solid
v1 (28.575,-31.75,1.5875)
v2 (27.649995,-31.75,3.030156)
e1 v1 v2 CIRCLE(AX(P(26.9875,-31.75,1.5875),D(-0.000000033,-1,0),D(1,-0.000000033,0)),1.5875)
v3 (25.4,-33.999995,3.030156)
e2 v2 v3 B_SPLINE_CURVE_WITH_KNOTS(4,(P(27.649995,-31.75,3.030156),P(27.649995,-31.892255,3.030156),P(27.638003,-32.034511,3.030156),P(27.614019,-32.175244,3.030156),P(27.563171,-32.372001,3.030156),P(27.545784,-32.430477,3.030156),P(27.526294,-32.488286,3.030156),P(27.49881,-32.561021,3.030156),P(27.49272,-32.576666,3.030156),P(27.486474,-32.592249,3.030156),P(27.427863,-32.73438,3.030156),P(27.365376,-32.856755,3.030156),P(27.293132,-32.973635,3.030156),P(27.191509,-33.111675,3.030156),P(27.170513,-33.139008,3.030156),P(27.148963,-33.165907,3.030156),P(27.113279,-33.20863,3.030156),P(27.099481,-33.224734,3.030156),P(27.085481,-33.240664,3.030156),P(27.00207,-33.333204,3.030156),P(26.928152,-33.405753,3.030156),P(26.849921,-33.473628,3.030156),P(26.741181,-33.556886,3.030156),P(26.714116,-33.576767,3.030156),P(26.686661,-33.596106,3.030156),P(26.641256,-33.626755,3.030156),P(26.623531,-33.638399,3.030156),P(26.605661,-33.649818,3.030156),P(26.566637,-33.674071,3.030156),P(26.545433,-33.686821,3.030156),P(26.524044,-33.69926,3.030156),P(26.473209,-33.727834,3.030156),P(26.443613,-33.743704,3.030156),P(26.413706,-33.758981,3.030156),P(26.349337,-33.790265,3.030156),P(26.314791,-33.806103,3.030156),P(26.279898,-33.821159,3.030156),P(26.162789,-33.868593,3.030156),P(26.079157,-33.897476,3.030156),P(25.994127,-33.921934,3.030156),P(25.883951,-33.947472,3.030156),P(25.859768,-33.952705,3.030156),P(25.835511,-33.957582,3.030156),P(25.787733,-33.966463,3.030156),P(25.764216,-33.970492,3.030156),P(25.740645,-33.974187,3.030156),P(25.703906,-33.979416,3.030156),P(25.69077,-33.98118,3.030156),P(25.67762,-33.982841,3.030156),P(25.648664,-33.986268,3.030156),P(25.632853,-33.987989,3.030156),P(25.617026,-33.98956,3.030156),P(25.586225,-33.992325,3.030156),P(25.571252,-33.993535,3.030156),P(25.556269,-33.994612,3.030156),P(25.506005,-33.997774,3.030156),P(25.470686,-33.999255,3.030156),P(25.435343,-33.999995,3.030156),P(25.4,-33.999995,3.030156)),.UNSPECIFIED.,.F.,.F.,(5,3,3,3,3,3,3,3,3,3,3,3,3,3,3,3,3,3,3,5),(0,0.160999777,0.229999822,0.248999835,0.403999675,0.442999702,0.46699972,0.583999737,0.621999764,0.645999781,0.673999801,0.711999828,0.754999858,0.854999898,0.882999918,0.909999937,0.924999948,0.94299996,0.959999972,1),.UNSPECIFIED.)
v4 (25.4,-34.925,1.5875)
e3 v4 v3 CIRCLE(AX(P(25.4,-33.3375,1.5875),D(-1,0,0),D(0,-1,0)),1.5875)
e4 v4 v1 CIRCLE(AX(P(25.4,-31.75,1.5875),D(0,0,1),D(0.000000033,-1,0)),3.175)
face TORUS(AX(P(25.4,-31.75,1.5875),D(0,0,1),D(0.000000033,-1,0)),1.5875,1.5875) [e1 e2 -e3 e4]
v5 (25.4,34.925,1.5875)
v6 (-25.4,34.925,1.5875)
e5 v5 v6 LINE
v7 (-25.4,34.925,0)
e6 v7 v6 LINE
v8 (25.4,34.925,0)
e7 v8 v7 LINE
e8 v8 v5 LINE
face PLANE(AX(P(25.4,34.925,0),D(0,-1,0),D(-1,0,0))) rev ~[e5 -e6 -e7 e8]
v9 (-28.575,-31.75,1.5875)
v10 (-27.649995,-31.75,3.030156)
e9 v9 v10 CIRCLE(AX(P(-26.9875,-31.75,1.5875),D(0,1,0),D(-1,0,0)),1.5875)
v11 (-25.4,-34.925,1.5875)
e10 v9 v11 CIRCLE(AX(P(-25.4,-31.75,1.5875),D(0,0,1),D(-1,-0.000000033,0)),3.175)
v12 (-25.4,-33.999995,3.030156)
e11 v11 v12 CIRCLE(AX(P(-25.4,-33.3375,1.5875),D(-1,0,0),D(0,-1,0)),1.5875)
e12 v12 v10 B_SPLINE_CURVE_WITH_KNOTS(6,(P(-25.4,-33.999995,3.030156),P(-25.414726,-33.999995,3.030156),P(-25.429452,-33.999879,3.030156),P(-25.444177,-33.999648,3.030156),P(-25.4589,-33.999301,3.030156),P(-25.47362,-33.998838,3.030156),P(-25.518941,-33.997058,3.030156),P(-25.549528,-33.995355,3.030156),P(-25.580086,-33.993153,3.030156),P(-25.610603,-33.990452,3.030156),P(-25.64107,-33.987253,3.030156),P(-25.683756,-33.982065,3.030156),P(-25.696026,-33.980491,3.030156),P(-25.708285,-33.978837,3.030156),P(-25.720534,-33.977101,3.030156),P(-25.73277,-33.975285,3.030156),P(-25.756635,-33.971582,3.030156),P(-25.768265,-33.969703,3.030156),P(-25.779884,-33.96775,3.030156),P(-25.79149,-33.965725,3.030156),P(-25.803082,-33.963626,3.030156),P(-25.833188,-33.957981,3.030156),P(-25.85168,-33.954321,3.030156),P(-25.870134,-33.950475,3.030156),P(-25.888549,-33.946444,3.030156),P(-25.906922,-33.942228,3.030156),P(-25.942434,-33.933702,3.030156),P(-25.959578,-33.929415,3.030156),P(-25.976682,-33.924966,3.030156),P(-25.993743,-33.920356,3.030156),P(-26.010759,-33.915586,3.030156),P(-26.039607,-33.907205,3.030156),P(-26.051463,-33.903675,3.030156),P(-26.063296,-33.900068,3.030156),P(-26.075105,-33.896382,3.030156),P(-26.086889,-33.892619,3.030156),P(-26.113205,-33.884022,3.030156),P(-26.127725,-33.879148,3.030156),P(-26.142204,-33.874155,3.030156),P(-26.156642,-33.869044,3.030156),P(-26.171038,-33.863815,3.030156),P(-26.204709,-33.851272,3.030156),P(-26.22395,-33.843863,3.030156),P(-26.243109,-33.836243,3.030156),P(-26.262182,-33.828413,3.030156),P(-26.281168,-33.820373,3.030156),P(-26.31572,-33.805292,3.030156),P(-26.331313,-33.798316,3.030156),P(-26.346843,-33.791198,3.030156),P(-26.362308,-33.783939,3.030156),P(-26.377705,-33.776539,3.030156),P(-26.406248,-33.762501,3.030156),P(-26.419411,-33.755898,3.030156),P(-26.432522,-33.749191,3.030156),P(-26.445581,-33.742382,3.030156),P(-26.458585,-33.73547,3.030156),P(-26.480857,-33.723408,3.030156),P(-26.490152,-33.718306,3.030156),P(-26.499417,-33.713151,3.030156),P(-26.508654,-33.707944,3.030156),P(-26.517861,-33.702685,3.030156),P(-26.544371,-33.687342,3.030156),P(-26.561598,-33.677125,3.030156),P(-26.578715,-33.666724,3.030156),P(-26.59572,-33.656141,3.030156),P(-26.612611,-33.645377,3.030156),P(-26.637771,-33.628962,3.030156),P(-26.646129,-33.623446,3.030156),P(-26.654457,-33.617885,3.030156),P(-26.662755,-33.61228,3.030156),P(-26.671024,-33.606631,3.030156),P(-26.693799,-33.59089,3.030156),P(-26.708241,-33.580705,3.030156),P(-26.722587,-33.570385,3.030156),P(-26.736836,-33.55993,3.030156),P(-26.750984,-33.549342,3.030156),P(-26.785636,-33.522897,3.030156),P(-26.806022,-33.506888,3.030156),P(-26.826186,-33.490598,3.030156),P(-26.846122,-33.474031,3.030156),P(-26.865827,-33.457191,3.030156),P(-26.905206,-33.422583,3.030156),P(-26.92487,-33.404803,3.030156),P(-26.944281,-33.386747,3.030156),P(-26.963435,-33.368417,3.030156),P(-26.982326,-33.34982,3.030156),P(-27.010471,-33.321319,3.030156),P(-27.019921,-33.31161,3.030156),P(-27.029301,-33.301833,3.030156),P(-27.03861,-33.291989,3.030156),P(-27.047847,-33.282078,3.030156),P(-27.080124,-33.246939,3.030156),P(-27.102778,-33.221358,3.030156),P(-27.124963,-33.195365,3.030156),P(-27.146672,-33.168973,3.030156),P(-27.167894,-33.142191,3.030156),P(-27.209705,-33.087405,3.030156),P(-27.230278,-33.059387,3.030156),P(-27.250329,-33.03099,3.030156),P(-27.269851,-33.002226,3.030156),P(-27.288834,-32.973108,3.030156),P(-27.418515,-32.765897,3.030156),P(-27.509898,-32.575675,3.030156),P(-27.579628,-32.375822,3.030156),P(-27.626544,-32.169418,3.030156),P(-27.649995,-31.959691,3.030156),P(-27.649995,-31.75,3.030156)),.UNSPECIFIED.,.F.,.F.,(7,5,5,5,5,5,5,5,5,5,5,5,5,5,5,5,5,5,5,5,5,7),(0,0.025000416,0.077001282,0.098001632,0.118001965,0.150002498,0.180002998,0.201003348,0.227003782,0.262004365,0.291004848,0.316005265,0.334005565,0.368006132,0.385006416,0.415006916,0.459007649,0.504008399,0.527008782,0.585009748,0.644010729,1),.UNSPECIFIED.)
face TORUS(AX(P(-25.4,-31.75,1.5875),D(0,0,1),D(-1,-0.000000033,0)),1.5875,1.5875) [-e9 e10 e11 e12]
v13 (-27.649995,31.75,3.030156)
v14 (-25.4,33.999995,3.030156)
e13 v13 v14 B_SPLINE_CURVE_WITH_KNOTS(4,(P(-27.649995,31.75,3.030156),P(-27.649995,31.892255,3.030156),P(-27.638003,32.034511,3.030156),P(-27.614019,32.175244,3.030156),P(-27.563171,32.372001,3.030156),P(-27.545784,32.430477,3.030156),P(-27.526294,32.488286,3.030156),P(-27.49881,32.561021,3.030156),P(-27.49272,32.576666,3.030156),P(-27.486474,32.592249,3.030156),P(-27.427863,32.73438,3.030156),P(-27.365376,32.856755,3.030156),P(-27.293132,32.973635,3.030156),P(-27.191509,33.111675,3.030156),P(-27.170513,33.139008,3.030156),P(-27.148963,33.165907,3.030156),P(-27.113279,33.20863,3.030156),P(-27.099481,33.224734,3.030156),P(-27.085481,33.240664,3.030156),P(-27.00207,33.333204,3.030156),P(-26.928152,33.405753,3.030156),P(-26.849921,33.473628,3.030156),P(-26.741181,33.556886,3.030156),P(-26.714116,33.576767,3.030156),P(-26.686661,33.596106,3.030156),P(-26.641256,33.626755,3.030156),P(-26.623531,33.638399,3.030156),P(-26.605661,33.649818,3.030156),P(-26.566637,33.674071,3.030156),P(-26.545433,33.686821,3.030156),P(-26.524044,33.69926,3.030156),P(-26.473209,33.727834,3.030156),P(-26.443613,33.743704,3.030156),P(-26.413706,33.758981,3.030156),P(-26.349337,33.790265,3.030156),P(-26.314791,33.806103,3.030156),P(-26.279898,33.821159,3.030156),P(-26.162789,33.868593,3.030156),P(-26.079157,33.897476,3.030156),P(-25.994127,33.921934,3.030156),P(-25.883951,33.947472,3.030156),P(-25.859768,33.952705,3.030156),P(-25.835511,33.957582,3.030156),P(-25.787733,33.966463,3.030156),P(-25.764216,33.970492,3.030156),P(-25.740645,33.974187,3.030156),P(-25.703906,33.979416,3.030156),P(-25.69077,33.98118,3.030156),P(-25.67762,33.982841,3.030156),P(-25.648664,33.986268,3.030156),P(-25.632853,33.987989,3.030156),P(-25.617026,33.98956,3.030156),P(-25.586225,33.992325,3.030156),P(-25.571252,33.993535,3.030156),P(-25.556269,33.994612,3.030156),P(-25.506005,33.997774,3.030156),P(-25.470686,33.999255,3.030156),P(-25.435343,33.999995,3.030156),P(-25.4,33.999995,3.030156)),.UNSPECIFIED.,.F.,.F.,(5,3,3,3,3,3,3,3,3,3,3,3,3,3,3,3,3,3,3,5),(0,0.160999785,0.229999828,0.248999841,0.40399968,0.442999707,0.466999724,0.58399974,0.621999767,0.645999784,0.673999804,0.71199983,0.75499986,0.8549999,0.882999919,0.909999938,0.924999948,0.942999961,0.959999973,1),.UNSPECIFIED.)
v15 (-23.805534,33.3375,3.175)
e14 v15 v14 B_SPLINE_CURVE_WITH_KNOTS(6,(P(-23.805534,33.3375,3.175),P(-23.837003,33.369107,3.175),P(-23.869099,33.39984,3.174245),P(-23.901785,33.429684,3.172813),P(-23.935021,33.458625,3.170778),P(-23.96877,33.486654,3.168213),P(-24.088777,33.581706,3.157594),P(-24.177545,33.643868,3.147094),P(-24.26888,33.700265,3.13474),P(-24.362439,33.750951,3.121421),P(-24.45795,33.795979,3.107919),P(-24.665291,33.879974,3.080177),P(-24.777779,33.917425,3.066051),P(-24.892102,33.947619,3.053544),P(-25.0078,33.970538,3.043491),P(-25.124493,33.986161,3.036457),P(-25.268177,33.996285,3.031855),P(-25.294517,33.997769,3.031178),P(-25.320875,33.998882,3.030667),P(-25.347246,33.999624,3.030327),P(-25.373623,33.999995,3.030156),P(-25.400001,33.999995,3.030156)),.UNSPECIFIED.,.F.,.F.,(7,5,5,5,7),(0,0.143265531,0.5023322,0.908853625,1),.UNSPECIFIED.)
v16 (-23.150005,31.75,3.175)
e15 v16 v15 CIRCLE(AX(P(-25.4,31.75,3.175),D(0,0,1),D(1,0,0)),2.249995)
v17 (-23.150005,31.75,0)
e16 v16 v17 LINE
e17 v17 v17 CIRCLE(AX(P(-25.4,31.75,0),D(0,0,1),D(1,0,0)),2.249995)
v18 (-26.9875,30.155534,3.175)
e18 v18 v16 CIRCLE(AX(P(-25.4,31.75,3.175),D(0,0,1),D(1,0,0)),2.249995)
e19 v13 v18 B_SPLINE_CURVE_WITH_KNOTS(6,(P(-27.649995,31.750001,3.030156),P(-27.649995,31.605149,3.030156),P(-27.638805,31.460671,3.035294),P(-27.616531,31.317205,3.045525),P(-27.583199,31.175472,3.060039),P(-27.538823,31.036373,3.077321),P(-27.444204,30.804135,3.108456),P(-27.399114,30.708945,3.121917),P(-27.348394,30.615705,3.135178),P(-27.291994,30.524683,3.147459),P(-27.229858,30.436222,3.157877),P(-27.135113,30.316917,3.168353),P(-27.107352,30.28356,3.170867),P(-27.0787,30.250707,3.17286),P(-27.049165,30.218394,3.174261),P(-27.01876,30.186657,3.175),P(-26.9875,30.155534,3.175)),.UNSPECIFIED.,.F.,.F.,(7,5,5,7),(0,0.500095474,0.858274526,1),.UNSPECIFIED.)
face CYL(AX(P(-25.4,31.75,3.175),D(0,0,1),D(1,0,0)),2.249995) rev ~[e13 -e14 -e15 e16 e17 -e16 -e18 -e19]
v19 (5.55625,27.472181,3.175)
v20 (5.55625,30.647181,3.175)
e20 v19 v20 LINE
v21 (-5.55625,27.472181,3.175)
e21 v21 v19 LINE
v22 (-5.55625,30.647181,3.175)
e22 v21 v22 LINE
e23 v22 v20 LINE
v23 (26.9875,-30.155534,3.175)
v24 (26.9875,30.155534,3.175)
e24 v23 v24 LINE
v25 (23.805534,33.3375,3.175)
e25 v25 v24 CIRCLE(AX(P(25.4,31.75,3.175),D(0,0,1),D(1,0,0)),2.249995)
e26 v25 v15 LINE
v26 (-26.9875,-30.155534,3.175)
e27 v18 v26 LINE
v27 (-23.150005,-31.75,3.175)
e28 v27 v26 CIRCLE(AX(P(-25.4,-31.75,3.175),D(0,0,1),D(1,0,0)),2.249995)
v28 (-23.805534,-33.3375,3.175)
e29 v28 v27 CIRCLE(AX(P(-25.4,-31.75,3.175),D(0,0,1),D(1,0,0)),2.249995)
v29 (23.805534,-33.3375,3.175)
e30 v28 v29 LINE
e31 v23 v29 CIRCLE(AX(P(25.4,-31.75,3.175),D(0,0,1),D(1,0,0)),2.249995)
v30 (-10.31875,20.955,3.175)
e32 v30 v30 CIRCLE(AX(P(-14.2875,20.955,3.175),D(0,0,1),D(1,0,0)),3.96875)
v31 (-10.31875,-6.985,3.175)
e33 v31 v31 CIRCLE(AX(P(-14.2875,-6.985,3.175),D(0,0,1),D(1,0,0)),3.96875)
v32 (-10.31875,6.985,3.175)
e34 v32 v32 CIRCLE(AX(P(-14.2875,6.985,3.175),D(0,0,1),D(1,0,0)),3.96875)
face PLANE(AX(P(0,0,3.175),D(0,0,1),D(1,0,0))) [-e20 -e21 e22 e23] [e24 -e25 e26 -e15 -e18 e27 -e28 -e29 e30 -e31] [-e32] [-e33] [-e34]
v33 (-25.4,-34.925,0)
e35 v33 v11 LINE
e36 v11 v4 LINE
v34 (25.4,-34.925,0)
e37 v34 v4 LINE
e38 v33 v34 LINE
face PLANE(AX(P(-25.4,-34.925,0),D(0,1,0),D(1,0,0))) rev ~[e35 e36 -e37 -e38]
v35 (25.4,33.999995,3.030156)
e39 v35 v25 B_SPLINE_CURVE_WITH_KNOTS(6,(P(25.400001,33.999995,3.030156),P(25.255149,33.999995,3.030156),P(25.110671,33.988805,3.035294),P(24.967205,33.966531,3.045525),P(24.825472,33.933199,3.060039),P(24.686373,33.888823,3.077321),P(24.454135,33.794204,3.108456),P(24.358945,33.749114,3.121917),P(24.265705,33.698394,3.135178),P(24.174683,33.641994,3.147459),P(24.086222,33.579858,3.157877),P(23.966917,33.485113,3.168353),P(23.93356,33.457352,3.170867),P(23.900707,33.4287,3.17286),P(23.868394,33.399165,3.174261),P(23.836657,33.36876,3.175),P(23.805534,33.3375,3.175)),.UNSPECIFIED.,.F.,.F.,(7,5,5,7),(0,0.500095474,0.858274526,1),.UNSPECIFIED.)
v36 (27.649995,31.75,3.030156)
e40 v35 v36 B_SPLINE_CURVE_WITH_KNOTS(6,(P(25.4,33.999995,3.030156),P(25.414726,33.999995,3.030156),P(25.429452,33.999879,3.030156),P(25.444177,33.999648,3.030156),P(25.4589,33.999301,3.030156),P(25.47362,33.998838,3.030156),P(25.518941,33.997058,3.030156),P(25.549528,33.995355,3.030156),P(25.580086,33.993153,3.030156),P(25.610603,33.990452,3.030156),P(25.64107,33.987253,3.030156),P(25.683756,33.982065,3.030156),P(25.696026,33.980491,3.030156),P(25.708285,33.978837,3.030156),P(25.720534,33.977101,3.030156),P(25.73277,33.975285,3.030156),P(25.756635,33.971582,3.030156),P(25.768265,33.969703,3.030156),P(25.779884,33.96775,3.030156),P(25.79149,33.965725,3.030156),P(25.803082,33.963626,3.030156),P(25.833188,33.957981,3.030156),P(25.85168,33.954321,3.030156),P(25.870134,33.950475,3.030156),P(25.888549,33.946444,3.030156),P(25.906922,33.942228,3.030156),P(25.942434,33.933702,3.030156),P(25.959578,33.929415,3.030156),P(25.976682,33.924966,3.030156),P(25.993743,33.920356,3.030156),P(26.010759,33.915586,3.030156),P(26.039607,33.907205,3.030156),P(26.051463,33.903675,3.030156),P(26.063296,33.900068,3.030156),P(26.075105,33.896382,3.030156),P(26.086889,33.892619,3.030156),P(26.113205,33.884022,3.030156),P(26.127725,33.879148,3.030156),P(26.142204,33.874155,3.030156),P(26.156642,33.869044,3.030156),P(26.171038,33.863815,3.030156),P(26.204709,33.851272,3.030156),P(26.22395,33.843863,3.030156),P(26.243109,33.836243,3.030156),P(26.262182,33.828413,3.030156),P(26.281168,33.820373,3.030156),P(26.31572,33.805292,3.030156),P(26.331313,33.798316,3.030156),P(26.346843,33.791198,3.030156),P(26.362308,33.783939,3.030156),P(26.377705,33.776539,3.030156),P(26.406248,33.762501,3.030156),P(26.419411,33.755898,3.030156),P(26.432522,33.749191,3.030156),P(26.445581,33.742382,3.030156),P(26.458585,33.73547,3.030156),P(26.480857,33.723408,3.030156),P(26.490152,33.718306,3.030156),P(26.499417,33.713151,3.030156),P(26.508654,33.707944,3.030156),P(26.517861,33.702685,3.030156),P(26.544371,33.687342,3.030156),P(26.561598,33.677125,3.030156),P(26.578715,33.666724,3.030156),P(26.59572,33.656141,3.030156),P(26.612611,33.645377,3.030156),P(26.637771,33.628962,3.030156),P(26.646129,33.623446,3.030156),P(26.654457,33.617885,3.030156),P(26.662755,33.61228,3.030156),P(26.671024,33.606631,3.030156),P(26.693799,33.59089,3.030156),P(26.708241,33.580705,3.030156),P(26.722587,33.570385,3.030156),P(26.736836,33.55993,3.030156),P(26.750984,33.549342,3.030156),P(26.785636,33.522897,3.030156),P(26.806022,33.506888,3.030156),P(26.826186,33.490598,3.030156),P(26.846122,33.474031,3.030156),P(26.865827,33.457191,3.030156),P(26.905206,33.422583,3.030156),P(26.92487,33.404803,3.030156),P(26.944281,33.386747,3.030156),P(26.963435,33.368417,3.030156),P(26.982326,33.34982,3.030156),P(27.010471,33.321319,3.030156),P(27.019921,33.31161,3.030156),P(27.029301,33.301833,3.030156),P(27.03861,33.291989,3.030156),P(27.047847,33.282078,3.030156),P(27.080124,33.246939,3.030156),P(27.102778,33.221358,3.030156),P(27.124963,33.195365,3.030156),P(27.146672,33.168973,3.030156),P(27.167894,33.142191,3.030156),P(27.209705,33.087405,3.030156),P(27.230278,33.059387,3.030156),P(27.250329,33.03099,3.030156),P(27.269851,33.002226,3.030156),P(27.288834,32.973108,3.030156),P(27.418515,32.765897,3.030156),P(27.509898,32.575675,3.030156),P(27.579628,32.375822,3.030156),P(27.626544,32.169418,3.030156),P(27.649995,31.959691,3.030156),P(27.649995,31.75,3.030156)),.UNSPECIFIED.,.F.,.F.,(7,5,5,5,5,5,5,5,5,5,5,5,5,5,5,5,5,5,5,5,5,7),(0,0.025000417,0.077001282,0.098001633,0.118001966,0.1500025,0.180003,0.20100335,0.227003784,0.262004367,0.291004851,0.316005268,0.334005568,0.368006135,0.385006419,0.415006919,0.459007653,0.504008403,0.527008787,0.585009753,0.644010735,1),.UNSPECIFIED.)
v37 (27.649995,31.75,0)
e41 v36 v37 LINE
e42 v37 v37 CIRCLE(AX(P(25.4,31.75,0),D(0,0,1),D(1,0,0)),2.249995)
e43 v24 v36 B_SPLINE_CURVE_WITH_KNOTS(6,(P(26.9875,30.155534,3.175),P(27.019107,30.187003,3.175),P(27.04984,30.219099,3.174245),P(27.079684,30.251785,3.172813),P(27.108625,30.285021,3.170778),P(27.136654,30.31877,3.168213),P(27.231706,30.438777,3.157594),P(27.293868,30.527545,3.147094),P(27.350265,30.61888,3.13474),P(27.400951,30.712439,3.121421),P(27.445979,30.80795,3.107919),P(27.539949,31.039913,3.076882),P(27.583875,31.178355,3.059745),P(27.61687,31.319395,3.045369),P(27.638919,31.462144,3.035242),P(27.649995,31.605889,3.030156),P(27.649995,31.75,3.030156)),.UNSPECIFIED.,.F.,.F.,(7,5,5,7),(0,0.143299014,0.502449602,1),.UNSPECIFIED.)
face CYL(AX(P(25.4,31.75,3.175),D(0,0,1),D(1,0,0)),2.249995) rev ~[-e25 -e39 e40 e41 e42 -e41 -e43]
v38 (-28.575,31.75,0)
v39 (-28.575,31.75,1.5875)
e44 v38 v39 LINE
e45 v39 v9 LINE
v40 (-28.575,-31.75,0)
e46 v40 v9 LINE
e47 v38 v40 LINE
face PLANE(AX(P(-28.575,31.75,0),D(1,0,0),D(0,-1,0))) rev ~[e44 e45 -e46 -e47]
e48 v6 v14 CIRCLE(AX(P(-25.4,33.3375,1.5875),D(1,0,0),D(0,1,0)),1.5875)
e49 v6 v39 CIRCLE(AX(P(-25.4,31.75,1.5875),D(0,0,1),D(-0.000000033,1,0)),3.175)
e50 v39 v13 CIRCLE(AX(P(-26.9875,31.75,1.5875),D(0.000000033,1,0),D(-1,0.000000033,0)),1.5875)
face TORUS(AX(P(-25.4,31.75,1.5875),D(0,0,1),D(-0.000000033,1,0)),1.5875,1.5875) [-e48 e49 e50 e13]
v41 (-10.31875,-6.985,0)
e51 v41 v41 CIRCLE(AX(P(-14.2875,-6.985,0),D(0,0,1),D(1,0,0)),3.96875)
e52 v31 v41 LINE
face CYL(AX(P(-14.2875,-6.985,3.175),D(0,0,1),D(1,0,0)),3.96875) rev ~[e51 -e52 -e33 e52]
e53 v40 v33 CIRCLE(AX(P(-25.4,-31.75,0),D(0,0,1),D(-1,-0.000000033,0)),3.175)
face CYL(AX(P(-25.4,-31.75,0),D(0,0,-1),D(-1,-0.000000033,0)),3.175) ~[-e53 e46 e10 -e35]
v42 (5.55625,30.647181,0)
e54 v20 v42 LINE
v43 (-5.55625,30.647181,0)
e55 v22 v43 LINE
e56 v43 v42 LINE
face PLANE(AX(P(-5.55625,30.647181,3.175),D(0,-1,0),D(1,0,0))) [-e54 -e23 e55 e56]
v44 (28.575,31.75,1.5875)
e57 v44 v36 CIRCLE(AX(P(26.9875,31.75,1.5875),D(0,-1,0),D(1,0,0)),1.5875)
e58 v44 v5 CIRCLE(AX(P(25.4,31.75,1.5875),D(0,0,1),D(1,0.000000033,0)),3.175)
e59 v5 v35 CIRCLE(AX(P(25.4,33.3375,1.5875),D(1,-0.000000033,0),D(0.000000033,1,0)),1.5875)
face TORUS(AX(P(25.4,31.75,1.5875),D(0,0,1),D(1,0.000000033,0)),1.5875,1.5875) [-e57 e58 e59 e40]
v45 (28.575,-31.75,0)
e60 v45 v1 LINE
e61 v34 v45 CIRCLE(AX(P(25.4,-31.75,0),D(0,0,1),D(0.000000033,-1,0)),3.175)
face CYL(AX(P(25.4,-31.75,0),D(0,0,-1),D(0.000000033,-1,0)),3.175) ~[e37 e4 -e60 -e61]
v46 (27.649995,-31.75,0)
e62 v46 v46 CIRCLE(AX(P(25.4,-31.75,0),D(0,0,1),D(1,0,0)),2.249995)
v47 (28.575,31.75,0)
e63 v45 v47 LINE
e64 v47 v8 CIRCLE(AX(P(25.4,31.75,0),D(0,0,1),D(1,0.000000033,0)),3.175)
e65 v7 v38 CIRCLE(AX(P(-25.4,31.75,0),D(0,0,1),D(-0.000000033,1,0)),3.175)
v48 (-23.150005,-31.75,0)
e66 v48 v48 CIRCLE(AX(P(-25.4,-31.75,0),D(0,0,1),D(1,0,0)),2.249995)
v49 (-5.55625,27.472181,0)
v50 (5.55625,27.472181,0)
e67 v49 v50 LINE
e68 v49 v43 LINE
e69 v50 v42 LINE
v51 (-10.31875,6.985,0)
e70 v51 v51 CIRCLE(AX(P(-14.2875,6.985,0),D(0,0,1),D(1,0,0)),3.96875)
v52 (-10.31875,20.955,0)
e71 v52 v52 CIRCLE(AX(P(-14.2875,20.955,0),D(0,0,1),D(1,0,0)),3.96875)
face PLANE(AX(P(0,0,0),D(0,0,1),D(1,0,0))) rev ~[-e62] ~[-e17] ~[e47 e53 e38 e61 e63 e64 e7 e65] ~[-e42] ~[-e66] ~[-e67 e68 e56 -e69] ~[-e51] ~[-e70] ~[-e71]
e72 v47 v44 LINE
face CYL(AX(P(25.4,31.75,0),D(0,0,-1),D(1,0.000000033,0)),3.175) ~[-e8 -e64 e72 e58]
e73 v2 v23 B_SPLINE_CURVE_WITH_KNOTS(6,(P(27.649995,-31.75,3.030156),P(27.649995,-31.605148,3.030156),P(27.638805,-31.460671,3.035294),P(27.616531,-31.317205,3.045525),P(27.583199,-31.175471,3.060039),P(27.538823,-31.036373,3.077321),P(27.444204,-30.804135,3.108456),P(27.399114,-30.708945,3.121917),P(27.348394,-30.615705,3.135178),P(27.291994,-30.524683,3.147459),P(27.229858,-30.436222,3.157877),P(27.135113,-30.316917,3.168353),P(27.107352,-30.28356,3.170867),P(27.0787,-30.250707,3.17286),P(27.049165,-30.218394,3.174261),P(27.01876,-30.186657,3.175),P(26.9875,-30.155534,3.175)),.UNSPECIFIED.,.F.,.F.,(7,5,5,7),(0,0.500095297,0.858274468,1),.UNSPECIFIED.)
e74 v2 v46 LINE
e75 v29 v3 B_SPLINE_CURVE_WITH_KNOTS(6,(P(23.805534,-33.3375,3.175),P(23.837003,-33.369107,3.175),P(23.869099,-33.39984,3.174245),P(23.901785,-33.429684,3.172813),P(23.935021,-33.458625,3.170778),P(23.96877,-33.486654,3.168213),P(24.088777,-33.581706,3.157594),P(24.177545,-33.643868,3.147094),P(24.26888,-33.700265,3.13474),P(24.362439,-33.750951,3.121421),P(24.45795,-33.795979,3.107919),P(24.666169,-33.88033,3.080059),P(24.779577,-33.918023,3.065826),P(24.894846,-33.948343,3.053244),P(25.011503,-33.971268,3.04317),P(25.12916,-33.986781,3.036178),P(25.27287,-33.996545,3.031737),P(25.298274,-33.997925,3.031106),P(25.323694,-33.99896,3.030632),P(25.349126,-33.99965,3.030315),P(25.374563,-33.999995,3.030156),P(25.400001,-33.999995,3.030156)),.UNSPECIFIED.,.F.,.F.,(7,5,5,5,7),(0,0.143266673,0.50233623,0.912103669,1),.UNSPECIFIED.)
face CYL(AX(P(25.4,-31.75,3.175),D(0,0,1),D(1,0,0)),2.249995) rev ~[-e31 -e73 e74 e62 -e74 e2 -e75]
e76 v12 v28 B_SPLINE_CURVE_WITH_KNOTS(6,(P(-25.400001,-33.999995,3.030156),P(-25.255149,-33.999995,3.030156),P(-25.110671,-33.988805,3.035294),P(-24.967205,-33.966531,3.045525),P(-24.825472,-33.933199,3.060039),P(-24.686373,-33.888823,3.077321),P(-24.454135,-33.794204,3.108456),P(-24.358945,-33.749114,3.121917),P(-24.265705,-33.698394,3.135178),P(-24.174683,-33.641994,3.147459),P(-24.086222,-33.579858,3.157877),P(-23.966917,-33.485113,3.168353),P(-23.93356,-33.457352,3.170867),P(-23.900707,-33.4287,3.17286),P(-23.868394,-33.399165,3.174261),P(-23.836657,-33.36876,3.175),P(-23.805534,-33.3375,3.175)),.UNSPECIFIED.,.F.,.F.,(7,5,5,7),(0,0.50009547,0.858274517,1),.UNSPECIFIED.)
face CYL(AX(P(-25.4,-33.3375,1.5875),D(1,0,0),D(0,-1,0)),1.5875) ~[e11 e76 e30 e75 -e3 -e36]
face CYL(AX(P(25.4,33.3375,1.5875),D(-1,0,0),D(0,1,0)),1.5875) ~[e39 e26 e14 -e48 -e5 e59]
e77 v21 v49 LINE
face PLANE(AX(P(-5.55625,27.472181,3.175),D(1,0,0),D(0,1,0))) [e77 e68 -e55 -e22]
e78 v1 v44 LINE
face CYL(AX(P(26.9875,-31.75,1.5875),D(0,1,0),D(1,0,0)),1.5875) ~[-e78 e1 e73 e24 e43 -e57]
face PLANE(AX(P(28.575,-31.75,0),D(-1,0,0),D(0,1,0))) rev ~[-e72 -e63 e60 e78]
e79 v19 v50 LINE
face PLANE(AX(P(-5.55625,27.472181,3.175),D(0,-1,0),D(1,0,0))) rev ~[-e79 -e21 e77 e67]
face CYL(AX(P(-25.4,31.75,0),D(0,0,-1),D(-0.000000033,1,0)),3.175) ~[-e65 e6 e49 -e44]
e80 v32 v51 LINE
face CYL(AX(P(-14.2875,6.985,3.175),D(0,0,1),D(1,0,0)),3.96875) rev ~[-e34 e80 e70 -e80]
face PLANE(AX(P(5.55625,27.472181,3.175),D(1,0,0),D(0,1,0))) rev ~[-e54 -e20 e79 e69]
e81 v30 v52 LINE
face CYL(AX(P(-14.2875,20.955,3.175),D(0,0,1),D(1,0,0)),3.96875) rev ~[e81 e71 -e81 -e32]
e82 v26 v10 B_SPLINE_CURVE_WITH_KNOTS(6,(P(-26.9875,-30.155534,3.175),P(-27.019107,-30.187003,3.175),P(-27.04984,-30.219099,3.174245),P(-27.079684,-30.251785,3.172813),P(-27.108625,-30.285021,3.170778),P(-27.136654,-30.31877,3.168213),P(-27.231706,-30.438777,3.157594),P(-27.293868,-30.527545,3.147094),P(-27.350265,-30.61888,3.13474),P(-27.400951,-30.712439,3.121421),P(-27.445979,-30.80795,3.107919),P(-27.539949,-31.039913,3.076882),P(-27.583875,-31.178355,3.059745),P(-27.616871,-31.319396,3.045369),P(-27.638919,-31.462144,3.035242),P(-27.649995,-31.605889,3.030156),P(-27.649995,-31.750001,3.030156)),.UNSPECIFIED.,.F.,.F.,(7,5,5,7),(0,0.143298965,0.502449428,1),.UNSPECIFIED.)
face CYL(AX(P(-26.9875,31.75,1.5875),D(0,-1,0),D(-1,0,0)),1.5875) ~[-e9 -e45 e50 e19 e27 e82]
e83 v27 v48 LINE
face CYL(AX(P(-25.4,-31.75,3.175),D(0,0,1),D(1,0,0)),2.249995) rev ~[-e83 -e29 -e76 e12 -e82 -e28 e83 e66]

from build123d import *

# Parameters (mm, degrees)
F1_DEPTH = 3.175
F2_R     = 1.5875
F3_R     = 2.249995
F4_DEPTH = 3.176
F5_R     = 3.96875
F5_W     = 11.1125
F5_H     = 3.175
F6_DEPTH = 3.176


with BuildPart() as f1:
    # F0 (on Top) → F1 (new body)
    with BuildSketch(Plane.XY):
        with BuildLine():
            Line((25.4, 34.925), (-25.4, 34.925))
            ThreePointArc((-25.4, 34.925), (-27.645064, 33.995064), (-28.575, 31.75))
            Line((-28.575, 31.75), (-28.575, -31.75))
            ThreePointArc((-28.575, -31.75), (-27.645064, -33.995064), (-25.4, -34.925))
            Line((-25.4, -34.925), (25.4, -34.925))
            ThreePointArc((25.4, -34.925), (27.645064, -33.995064), (28.575, -31.75))
            Line((28.575, -31.75), (28.575, 31.75))
            ThreePointArc((28.575, 31.75), (27.645064, 33.995064), (25.4, 34.925))
        make_face()
    extrude(amount=F1_DEPTH)

    # F2
    f2_edges = [f1.edges().sort_by_distance(p)[0] for p in [
        (0, -34.925, 3.175),
        (-28.575, 0, 3.175),
    ]]
    fillet(f2_edges, radius=F2_R)

    # F3 (on face) → F4 (cut, through all)
    with BuildSketch(Plane.XY.offset(3.175)):
        with Locations((-25.4, 31.75)):
            Circle(F3_R)
        with Locations((25.4, 31.75)):
            Circle(F3_R)
        with Locations((25.4, -31.75)):
            Circle(F3_R)
        with Locations((-25.4, -31.75)):
            Circle(F3_R)
    extrude(amount=-F4_DEPTH, mode=Mode.SUBTRACT)

    # F5 (on face) → F6 (cut, through all)
    with BuildSketch(Plane.XY.offset(3.175)):
        with Locations((-14.2875, -6.985)):
            Circle(F5_R)
        with Locations((-14.2875, 6.985)):
            Circle(F5_R)
        with Locations((-14.2875, 20.955)):
            Circle(F5_R)
        with Locations((0, 29.059681)):
            Rectangle(F5_W, F5_H)
    extrude(amount=-F6_DEPTH, mode=Mode.SUBTRACT)


solid = f1.part
